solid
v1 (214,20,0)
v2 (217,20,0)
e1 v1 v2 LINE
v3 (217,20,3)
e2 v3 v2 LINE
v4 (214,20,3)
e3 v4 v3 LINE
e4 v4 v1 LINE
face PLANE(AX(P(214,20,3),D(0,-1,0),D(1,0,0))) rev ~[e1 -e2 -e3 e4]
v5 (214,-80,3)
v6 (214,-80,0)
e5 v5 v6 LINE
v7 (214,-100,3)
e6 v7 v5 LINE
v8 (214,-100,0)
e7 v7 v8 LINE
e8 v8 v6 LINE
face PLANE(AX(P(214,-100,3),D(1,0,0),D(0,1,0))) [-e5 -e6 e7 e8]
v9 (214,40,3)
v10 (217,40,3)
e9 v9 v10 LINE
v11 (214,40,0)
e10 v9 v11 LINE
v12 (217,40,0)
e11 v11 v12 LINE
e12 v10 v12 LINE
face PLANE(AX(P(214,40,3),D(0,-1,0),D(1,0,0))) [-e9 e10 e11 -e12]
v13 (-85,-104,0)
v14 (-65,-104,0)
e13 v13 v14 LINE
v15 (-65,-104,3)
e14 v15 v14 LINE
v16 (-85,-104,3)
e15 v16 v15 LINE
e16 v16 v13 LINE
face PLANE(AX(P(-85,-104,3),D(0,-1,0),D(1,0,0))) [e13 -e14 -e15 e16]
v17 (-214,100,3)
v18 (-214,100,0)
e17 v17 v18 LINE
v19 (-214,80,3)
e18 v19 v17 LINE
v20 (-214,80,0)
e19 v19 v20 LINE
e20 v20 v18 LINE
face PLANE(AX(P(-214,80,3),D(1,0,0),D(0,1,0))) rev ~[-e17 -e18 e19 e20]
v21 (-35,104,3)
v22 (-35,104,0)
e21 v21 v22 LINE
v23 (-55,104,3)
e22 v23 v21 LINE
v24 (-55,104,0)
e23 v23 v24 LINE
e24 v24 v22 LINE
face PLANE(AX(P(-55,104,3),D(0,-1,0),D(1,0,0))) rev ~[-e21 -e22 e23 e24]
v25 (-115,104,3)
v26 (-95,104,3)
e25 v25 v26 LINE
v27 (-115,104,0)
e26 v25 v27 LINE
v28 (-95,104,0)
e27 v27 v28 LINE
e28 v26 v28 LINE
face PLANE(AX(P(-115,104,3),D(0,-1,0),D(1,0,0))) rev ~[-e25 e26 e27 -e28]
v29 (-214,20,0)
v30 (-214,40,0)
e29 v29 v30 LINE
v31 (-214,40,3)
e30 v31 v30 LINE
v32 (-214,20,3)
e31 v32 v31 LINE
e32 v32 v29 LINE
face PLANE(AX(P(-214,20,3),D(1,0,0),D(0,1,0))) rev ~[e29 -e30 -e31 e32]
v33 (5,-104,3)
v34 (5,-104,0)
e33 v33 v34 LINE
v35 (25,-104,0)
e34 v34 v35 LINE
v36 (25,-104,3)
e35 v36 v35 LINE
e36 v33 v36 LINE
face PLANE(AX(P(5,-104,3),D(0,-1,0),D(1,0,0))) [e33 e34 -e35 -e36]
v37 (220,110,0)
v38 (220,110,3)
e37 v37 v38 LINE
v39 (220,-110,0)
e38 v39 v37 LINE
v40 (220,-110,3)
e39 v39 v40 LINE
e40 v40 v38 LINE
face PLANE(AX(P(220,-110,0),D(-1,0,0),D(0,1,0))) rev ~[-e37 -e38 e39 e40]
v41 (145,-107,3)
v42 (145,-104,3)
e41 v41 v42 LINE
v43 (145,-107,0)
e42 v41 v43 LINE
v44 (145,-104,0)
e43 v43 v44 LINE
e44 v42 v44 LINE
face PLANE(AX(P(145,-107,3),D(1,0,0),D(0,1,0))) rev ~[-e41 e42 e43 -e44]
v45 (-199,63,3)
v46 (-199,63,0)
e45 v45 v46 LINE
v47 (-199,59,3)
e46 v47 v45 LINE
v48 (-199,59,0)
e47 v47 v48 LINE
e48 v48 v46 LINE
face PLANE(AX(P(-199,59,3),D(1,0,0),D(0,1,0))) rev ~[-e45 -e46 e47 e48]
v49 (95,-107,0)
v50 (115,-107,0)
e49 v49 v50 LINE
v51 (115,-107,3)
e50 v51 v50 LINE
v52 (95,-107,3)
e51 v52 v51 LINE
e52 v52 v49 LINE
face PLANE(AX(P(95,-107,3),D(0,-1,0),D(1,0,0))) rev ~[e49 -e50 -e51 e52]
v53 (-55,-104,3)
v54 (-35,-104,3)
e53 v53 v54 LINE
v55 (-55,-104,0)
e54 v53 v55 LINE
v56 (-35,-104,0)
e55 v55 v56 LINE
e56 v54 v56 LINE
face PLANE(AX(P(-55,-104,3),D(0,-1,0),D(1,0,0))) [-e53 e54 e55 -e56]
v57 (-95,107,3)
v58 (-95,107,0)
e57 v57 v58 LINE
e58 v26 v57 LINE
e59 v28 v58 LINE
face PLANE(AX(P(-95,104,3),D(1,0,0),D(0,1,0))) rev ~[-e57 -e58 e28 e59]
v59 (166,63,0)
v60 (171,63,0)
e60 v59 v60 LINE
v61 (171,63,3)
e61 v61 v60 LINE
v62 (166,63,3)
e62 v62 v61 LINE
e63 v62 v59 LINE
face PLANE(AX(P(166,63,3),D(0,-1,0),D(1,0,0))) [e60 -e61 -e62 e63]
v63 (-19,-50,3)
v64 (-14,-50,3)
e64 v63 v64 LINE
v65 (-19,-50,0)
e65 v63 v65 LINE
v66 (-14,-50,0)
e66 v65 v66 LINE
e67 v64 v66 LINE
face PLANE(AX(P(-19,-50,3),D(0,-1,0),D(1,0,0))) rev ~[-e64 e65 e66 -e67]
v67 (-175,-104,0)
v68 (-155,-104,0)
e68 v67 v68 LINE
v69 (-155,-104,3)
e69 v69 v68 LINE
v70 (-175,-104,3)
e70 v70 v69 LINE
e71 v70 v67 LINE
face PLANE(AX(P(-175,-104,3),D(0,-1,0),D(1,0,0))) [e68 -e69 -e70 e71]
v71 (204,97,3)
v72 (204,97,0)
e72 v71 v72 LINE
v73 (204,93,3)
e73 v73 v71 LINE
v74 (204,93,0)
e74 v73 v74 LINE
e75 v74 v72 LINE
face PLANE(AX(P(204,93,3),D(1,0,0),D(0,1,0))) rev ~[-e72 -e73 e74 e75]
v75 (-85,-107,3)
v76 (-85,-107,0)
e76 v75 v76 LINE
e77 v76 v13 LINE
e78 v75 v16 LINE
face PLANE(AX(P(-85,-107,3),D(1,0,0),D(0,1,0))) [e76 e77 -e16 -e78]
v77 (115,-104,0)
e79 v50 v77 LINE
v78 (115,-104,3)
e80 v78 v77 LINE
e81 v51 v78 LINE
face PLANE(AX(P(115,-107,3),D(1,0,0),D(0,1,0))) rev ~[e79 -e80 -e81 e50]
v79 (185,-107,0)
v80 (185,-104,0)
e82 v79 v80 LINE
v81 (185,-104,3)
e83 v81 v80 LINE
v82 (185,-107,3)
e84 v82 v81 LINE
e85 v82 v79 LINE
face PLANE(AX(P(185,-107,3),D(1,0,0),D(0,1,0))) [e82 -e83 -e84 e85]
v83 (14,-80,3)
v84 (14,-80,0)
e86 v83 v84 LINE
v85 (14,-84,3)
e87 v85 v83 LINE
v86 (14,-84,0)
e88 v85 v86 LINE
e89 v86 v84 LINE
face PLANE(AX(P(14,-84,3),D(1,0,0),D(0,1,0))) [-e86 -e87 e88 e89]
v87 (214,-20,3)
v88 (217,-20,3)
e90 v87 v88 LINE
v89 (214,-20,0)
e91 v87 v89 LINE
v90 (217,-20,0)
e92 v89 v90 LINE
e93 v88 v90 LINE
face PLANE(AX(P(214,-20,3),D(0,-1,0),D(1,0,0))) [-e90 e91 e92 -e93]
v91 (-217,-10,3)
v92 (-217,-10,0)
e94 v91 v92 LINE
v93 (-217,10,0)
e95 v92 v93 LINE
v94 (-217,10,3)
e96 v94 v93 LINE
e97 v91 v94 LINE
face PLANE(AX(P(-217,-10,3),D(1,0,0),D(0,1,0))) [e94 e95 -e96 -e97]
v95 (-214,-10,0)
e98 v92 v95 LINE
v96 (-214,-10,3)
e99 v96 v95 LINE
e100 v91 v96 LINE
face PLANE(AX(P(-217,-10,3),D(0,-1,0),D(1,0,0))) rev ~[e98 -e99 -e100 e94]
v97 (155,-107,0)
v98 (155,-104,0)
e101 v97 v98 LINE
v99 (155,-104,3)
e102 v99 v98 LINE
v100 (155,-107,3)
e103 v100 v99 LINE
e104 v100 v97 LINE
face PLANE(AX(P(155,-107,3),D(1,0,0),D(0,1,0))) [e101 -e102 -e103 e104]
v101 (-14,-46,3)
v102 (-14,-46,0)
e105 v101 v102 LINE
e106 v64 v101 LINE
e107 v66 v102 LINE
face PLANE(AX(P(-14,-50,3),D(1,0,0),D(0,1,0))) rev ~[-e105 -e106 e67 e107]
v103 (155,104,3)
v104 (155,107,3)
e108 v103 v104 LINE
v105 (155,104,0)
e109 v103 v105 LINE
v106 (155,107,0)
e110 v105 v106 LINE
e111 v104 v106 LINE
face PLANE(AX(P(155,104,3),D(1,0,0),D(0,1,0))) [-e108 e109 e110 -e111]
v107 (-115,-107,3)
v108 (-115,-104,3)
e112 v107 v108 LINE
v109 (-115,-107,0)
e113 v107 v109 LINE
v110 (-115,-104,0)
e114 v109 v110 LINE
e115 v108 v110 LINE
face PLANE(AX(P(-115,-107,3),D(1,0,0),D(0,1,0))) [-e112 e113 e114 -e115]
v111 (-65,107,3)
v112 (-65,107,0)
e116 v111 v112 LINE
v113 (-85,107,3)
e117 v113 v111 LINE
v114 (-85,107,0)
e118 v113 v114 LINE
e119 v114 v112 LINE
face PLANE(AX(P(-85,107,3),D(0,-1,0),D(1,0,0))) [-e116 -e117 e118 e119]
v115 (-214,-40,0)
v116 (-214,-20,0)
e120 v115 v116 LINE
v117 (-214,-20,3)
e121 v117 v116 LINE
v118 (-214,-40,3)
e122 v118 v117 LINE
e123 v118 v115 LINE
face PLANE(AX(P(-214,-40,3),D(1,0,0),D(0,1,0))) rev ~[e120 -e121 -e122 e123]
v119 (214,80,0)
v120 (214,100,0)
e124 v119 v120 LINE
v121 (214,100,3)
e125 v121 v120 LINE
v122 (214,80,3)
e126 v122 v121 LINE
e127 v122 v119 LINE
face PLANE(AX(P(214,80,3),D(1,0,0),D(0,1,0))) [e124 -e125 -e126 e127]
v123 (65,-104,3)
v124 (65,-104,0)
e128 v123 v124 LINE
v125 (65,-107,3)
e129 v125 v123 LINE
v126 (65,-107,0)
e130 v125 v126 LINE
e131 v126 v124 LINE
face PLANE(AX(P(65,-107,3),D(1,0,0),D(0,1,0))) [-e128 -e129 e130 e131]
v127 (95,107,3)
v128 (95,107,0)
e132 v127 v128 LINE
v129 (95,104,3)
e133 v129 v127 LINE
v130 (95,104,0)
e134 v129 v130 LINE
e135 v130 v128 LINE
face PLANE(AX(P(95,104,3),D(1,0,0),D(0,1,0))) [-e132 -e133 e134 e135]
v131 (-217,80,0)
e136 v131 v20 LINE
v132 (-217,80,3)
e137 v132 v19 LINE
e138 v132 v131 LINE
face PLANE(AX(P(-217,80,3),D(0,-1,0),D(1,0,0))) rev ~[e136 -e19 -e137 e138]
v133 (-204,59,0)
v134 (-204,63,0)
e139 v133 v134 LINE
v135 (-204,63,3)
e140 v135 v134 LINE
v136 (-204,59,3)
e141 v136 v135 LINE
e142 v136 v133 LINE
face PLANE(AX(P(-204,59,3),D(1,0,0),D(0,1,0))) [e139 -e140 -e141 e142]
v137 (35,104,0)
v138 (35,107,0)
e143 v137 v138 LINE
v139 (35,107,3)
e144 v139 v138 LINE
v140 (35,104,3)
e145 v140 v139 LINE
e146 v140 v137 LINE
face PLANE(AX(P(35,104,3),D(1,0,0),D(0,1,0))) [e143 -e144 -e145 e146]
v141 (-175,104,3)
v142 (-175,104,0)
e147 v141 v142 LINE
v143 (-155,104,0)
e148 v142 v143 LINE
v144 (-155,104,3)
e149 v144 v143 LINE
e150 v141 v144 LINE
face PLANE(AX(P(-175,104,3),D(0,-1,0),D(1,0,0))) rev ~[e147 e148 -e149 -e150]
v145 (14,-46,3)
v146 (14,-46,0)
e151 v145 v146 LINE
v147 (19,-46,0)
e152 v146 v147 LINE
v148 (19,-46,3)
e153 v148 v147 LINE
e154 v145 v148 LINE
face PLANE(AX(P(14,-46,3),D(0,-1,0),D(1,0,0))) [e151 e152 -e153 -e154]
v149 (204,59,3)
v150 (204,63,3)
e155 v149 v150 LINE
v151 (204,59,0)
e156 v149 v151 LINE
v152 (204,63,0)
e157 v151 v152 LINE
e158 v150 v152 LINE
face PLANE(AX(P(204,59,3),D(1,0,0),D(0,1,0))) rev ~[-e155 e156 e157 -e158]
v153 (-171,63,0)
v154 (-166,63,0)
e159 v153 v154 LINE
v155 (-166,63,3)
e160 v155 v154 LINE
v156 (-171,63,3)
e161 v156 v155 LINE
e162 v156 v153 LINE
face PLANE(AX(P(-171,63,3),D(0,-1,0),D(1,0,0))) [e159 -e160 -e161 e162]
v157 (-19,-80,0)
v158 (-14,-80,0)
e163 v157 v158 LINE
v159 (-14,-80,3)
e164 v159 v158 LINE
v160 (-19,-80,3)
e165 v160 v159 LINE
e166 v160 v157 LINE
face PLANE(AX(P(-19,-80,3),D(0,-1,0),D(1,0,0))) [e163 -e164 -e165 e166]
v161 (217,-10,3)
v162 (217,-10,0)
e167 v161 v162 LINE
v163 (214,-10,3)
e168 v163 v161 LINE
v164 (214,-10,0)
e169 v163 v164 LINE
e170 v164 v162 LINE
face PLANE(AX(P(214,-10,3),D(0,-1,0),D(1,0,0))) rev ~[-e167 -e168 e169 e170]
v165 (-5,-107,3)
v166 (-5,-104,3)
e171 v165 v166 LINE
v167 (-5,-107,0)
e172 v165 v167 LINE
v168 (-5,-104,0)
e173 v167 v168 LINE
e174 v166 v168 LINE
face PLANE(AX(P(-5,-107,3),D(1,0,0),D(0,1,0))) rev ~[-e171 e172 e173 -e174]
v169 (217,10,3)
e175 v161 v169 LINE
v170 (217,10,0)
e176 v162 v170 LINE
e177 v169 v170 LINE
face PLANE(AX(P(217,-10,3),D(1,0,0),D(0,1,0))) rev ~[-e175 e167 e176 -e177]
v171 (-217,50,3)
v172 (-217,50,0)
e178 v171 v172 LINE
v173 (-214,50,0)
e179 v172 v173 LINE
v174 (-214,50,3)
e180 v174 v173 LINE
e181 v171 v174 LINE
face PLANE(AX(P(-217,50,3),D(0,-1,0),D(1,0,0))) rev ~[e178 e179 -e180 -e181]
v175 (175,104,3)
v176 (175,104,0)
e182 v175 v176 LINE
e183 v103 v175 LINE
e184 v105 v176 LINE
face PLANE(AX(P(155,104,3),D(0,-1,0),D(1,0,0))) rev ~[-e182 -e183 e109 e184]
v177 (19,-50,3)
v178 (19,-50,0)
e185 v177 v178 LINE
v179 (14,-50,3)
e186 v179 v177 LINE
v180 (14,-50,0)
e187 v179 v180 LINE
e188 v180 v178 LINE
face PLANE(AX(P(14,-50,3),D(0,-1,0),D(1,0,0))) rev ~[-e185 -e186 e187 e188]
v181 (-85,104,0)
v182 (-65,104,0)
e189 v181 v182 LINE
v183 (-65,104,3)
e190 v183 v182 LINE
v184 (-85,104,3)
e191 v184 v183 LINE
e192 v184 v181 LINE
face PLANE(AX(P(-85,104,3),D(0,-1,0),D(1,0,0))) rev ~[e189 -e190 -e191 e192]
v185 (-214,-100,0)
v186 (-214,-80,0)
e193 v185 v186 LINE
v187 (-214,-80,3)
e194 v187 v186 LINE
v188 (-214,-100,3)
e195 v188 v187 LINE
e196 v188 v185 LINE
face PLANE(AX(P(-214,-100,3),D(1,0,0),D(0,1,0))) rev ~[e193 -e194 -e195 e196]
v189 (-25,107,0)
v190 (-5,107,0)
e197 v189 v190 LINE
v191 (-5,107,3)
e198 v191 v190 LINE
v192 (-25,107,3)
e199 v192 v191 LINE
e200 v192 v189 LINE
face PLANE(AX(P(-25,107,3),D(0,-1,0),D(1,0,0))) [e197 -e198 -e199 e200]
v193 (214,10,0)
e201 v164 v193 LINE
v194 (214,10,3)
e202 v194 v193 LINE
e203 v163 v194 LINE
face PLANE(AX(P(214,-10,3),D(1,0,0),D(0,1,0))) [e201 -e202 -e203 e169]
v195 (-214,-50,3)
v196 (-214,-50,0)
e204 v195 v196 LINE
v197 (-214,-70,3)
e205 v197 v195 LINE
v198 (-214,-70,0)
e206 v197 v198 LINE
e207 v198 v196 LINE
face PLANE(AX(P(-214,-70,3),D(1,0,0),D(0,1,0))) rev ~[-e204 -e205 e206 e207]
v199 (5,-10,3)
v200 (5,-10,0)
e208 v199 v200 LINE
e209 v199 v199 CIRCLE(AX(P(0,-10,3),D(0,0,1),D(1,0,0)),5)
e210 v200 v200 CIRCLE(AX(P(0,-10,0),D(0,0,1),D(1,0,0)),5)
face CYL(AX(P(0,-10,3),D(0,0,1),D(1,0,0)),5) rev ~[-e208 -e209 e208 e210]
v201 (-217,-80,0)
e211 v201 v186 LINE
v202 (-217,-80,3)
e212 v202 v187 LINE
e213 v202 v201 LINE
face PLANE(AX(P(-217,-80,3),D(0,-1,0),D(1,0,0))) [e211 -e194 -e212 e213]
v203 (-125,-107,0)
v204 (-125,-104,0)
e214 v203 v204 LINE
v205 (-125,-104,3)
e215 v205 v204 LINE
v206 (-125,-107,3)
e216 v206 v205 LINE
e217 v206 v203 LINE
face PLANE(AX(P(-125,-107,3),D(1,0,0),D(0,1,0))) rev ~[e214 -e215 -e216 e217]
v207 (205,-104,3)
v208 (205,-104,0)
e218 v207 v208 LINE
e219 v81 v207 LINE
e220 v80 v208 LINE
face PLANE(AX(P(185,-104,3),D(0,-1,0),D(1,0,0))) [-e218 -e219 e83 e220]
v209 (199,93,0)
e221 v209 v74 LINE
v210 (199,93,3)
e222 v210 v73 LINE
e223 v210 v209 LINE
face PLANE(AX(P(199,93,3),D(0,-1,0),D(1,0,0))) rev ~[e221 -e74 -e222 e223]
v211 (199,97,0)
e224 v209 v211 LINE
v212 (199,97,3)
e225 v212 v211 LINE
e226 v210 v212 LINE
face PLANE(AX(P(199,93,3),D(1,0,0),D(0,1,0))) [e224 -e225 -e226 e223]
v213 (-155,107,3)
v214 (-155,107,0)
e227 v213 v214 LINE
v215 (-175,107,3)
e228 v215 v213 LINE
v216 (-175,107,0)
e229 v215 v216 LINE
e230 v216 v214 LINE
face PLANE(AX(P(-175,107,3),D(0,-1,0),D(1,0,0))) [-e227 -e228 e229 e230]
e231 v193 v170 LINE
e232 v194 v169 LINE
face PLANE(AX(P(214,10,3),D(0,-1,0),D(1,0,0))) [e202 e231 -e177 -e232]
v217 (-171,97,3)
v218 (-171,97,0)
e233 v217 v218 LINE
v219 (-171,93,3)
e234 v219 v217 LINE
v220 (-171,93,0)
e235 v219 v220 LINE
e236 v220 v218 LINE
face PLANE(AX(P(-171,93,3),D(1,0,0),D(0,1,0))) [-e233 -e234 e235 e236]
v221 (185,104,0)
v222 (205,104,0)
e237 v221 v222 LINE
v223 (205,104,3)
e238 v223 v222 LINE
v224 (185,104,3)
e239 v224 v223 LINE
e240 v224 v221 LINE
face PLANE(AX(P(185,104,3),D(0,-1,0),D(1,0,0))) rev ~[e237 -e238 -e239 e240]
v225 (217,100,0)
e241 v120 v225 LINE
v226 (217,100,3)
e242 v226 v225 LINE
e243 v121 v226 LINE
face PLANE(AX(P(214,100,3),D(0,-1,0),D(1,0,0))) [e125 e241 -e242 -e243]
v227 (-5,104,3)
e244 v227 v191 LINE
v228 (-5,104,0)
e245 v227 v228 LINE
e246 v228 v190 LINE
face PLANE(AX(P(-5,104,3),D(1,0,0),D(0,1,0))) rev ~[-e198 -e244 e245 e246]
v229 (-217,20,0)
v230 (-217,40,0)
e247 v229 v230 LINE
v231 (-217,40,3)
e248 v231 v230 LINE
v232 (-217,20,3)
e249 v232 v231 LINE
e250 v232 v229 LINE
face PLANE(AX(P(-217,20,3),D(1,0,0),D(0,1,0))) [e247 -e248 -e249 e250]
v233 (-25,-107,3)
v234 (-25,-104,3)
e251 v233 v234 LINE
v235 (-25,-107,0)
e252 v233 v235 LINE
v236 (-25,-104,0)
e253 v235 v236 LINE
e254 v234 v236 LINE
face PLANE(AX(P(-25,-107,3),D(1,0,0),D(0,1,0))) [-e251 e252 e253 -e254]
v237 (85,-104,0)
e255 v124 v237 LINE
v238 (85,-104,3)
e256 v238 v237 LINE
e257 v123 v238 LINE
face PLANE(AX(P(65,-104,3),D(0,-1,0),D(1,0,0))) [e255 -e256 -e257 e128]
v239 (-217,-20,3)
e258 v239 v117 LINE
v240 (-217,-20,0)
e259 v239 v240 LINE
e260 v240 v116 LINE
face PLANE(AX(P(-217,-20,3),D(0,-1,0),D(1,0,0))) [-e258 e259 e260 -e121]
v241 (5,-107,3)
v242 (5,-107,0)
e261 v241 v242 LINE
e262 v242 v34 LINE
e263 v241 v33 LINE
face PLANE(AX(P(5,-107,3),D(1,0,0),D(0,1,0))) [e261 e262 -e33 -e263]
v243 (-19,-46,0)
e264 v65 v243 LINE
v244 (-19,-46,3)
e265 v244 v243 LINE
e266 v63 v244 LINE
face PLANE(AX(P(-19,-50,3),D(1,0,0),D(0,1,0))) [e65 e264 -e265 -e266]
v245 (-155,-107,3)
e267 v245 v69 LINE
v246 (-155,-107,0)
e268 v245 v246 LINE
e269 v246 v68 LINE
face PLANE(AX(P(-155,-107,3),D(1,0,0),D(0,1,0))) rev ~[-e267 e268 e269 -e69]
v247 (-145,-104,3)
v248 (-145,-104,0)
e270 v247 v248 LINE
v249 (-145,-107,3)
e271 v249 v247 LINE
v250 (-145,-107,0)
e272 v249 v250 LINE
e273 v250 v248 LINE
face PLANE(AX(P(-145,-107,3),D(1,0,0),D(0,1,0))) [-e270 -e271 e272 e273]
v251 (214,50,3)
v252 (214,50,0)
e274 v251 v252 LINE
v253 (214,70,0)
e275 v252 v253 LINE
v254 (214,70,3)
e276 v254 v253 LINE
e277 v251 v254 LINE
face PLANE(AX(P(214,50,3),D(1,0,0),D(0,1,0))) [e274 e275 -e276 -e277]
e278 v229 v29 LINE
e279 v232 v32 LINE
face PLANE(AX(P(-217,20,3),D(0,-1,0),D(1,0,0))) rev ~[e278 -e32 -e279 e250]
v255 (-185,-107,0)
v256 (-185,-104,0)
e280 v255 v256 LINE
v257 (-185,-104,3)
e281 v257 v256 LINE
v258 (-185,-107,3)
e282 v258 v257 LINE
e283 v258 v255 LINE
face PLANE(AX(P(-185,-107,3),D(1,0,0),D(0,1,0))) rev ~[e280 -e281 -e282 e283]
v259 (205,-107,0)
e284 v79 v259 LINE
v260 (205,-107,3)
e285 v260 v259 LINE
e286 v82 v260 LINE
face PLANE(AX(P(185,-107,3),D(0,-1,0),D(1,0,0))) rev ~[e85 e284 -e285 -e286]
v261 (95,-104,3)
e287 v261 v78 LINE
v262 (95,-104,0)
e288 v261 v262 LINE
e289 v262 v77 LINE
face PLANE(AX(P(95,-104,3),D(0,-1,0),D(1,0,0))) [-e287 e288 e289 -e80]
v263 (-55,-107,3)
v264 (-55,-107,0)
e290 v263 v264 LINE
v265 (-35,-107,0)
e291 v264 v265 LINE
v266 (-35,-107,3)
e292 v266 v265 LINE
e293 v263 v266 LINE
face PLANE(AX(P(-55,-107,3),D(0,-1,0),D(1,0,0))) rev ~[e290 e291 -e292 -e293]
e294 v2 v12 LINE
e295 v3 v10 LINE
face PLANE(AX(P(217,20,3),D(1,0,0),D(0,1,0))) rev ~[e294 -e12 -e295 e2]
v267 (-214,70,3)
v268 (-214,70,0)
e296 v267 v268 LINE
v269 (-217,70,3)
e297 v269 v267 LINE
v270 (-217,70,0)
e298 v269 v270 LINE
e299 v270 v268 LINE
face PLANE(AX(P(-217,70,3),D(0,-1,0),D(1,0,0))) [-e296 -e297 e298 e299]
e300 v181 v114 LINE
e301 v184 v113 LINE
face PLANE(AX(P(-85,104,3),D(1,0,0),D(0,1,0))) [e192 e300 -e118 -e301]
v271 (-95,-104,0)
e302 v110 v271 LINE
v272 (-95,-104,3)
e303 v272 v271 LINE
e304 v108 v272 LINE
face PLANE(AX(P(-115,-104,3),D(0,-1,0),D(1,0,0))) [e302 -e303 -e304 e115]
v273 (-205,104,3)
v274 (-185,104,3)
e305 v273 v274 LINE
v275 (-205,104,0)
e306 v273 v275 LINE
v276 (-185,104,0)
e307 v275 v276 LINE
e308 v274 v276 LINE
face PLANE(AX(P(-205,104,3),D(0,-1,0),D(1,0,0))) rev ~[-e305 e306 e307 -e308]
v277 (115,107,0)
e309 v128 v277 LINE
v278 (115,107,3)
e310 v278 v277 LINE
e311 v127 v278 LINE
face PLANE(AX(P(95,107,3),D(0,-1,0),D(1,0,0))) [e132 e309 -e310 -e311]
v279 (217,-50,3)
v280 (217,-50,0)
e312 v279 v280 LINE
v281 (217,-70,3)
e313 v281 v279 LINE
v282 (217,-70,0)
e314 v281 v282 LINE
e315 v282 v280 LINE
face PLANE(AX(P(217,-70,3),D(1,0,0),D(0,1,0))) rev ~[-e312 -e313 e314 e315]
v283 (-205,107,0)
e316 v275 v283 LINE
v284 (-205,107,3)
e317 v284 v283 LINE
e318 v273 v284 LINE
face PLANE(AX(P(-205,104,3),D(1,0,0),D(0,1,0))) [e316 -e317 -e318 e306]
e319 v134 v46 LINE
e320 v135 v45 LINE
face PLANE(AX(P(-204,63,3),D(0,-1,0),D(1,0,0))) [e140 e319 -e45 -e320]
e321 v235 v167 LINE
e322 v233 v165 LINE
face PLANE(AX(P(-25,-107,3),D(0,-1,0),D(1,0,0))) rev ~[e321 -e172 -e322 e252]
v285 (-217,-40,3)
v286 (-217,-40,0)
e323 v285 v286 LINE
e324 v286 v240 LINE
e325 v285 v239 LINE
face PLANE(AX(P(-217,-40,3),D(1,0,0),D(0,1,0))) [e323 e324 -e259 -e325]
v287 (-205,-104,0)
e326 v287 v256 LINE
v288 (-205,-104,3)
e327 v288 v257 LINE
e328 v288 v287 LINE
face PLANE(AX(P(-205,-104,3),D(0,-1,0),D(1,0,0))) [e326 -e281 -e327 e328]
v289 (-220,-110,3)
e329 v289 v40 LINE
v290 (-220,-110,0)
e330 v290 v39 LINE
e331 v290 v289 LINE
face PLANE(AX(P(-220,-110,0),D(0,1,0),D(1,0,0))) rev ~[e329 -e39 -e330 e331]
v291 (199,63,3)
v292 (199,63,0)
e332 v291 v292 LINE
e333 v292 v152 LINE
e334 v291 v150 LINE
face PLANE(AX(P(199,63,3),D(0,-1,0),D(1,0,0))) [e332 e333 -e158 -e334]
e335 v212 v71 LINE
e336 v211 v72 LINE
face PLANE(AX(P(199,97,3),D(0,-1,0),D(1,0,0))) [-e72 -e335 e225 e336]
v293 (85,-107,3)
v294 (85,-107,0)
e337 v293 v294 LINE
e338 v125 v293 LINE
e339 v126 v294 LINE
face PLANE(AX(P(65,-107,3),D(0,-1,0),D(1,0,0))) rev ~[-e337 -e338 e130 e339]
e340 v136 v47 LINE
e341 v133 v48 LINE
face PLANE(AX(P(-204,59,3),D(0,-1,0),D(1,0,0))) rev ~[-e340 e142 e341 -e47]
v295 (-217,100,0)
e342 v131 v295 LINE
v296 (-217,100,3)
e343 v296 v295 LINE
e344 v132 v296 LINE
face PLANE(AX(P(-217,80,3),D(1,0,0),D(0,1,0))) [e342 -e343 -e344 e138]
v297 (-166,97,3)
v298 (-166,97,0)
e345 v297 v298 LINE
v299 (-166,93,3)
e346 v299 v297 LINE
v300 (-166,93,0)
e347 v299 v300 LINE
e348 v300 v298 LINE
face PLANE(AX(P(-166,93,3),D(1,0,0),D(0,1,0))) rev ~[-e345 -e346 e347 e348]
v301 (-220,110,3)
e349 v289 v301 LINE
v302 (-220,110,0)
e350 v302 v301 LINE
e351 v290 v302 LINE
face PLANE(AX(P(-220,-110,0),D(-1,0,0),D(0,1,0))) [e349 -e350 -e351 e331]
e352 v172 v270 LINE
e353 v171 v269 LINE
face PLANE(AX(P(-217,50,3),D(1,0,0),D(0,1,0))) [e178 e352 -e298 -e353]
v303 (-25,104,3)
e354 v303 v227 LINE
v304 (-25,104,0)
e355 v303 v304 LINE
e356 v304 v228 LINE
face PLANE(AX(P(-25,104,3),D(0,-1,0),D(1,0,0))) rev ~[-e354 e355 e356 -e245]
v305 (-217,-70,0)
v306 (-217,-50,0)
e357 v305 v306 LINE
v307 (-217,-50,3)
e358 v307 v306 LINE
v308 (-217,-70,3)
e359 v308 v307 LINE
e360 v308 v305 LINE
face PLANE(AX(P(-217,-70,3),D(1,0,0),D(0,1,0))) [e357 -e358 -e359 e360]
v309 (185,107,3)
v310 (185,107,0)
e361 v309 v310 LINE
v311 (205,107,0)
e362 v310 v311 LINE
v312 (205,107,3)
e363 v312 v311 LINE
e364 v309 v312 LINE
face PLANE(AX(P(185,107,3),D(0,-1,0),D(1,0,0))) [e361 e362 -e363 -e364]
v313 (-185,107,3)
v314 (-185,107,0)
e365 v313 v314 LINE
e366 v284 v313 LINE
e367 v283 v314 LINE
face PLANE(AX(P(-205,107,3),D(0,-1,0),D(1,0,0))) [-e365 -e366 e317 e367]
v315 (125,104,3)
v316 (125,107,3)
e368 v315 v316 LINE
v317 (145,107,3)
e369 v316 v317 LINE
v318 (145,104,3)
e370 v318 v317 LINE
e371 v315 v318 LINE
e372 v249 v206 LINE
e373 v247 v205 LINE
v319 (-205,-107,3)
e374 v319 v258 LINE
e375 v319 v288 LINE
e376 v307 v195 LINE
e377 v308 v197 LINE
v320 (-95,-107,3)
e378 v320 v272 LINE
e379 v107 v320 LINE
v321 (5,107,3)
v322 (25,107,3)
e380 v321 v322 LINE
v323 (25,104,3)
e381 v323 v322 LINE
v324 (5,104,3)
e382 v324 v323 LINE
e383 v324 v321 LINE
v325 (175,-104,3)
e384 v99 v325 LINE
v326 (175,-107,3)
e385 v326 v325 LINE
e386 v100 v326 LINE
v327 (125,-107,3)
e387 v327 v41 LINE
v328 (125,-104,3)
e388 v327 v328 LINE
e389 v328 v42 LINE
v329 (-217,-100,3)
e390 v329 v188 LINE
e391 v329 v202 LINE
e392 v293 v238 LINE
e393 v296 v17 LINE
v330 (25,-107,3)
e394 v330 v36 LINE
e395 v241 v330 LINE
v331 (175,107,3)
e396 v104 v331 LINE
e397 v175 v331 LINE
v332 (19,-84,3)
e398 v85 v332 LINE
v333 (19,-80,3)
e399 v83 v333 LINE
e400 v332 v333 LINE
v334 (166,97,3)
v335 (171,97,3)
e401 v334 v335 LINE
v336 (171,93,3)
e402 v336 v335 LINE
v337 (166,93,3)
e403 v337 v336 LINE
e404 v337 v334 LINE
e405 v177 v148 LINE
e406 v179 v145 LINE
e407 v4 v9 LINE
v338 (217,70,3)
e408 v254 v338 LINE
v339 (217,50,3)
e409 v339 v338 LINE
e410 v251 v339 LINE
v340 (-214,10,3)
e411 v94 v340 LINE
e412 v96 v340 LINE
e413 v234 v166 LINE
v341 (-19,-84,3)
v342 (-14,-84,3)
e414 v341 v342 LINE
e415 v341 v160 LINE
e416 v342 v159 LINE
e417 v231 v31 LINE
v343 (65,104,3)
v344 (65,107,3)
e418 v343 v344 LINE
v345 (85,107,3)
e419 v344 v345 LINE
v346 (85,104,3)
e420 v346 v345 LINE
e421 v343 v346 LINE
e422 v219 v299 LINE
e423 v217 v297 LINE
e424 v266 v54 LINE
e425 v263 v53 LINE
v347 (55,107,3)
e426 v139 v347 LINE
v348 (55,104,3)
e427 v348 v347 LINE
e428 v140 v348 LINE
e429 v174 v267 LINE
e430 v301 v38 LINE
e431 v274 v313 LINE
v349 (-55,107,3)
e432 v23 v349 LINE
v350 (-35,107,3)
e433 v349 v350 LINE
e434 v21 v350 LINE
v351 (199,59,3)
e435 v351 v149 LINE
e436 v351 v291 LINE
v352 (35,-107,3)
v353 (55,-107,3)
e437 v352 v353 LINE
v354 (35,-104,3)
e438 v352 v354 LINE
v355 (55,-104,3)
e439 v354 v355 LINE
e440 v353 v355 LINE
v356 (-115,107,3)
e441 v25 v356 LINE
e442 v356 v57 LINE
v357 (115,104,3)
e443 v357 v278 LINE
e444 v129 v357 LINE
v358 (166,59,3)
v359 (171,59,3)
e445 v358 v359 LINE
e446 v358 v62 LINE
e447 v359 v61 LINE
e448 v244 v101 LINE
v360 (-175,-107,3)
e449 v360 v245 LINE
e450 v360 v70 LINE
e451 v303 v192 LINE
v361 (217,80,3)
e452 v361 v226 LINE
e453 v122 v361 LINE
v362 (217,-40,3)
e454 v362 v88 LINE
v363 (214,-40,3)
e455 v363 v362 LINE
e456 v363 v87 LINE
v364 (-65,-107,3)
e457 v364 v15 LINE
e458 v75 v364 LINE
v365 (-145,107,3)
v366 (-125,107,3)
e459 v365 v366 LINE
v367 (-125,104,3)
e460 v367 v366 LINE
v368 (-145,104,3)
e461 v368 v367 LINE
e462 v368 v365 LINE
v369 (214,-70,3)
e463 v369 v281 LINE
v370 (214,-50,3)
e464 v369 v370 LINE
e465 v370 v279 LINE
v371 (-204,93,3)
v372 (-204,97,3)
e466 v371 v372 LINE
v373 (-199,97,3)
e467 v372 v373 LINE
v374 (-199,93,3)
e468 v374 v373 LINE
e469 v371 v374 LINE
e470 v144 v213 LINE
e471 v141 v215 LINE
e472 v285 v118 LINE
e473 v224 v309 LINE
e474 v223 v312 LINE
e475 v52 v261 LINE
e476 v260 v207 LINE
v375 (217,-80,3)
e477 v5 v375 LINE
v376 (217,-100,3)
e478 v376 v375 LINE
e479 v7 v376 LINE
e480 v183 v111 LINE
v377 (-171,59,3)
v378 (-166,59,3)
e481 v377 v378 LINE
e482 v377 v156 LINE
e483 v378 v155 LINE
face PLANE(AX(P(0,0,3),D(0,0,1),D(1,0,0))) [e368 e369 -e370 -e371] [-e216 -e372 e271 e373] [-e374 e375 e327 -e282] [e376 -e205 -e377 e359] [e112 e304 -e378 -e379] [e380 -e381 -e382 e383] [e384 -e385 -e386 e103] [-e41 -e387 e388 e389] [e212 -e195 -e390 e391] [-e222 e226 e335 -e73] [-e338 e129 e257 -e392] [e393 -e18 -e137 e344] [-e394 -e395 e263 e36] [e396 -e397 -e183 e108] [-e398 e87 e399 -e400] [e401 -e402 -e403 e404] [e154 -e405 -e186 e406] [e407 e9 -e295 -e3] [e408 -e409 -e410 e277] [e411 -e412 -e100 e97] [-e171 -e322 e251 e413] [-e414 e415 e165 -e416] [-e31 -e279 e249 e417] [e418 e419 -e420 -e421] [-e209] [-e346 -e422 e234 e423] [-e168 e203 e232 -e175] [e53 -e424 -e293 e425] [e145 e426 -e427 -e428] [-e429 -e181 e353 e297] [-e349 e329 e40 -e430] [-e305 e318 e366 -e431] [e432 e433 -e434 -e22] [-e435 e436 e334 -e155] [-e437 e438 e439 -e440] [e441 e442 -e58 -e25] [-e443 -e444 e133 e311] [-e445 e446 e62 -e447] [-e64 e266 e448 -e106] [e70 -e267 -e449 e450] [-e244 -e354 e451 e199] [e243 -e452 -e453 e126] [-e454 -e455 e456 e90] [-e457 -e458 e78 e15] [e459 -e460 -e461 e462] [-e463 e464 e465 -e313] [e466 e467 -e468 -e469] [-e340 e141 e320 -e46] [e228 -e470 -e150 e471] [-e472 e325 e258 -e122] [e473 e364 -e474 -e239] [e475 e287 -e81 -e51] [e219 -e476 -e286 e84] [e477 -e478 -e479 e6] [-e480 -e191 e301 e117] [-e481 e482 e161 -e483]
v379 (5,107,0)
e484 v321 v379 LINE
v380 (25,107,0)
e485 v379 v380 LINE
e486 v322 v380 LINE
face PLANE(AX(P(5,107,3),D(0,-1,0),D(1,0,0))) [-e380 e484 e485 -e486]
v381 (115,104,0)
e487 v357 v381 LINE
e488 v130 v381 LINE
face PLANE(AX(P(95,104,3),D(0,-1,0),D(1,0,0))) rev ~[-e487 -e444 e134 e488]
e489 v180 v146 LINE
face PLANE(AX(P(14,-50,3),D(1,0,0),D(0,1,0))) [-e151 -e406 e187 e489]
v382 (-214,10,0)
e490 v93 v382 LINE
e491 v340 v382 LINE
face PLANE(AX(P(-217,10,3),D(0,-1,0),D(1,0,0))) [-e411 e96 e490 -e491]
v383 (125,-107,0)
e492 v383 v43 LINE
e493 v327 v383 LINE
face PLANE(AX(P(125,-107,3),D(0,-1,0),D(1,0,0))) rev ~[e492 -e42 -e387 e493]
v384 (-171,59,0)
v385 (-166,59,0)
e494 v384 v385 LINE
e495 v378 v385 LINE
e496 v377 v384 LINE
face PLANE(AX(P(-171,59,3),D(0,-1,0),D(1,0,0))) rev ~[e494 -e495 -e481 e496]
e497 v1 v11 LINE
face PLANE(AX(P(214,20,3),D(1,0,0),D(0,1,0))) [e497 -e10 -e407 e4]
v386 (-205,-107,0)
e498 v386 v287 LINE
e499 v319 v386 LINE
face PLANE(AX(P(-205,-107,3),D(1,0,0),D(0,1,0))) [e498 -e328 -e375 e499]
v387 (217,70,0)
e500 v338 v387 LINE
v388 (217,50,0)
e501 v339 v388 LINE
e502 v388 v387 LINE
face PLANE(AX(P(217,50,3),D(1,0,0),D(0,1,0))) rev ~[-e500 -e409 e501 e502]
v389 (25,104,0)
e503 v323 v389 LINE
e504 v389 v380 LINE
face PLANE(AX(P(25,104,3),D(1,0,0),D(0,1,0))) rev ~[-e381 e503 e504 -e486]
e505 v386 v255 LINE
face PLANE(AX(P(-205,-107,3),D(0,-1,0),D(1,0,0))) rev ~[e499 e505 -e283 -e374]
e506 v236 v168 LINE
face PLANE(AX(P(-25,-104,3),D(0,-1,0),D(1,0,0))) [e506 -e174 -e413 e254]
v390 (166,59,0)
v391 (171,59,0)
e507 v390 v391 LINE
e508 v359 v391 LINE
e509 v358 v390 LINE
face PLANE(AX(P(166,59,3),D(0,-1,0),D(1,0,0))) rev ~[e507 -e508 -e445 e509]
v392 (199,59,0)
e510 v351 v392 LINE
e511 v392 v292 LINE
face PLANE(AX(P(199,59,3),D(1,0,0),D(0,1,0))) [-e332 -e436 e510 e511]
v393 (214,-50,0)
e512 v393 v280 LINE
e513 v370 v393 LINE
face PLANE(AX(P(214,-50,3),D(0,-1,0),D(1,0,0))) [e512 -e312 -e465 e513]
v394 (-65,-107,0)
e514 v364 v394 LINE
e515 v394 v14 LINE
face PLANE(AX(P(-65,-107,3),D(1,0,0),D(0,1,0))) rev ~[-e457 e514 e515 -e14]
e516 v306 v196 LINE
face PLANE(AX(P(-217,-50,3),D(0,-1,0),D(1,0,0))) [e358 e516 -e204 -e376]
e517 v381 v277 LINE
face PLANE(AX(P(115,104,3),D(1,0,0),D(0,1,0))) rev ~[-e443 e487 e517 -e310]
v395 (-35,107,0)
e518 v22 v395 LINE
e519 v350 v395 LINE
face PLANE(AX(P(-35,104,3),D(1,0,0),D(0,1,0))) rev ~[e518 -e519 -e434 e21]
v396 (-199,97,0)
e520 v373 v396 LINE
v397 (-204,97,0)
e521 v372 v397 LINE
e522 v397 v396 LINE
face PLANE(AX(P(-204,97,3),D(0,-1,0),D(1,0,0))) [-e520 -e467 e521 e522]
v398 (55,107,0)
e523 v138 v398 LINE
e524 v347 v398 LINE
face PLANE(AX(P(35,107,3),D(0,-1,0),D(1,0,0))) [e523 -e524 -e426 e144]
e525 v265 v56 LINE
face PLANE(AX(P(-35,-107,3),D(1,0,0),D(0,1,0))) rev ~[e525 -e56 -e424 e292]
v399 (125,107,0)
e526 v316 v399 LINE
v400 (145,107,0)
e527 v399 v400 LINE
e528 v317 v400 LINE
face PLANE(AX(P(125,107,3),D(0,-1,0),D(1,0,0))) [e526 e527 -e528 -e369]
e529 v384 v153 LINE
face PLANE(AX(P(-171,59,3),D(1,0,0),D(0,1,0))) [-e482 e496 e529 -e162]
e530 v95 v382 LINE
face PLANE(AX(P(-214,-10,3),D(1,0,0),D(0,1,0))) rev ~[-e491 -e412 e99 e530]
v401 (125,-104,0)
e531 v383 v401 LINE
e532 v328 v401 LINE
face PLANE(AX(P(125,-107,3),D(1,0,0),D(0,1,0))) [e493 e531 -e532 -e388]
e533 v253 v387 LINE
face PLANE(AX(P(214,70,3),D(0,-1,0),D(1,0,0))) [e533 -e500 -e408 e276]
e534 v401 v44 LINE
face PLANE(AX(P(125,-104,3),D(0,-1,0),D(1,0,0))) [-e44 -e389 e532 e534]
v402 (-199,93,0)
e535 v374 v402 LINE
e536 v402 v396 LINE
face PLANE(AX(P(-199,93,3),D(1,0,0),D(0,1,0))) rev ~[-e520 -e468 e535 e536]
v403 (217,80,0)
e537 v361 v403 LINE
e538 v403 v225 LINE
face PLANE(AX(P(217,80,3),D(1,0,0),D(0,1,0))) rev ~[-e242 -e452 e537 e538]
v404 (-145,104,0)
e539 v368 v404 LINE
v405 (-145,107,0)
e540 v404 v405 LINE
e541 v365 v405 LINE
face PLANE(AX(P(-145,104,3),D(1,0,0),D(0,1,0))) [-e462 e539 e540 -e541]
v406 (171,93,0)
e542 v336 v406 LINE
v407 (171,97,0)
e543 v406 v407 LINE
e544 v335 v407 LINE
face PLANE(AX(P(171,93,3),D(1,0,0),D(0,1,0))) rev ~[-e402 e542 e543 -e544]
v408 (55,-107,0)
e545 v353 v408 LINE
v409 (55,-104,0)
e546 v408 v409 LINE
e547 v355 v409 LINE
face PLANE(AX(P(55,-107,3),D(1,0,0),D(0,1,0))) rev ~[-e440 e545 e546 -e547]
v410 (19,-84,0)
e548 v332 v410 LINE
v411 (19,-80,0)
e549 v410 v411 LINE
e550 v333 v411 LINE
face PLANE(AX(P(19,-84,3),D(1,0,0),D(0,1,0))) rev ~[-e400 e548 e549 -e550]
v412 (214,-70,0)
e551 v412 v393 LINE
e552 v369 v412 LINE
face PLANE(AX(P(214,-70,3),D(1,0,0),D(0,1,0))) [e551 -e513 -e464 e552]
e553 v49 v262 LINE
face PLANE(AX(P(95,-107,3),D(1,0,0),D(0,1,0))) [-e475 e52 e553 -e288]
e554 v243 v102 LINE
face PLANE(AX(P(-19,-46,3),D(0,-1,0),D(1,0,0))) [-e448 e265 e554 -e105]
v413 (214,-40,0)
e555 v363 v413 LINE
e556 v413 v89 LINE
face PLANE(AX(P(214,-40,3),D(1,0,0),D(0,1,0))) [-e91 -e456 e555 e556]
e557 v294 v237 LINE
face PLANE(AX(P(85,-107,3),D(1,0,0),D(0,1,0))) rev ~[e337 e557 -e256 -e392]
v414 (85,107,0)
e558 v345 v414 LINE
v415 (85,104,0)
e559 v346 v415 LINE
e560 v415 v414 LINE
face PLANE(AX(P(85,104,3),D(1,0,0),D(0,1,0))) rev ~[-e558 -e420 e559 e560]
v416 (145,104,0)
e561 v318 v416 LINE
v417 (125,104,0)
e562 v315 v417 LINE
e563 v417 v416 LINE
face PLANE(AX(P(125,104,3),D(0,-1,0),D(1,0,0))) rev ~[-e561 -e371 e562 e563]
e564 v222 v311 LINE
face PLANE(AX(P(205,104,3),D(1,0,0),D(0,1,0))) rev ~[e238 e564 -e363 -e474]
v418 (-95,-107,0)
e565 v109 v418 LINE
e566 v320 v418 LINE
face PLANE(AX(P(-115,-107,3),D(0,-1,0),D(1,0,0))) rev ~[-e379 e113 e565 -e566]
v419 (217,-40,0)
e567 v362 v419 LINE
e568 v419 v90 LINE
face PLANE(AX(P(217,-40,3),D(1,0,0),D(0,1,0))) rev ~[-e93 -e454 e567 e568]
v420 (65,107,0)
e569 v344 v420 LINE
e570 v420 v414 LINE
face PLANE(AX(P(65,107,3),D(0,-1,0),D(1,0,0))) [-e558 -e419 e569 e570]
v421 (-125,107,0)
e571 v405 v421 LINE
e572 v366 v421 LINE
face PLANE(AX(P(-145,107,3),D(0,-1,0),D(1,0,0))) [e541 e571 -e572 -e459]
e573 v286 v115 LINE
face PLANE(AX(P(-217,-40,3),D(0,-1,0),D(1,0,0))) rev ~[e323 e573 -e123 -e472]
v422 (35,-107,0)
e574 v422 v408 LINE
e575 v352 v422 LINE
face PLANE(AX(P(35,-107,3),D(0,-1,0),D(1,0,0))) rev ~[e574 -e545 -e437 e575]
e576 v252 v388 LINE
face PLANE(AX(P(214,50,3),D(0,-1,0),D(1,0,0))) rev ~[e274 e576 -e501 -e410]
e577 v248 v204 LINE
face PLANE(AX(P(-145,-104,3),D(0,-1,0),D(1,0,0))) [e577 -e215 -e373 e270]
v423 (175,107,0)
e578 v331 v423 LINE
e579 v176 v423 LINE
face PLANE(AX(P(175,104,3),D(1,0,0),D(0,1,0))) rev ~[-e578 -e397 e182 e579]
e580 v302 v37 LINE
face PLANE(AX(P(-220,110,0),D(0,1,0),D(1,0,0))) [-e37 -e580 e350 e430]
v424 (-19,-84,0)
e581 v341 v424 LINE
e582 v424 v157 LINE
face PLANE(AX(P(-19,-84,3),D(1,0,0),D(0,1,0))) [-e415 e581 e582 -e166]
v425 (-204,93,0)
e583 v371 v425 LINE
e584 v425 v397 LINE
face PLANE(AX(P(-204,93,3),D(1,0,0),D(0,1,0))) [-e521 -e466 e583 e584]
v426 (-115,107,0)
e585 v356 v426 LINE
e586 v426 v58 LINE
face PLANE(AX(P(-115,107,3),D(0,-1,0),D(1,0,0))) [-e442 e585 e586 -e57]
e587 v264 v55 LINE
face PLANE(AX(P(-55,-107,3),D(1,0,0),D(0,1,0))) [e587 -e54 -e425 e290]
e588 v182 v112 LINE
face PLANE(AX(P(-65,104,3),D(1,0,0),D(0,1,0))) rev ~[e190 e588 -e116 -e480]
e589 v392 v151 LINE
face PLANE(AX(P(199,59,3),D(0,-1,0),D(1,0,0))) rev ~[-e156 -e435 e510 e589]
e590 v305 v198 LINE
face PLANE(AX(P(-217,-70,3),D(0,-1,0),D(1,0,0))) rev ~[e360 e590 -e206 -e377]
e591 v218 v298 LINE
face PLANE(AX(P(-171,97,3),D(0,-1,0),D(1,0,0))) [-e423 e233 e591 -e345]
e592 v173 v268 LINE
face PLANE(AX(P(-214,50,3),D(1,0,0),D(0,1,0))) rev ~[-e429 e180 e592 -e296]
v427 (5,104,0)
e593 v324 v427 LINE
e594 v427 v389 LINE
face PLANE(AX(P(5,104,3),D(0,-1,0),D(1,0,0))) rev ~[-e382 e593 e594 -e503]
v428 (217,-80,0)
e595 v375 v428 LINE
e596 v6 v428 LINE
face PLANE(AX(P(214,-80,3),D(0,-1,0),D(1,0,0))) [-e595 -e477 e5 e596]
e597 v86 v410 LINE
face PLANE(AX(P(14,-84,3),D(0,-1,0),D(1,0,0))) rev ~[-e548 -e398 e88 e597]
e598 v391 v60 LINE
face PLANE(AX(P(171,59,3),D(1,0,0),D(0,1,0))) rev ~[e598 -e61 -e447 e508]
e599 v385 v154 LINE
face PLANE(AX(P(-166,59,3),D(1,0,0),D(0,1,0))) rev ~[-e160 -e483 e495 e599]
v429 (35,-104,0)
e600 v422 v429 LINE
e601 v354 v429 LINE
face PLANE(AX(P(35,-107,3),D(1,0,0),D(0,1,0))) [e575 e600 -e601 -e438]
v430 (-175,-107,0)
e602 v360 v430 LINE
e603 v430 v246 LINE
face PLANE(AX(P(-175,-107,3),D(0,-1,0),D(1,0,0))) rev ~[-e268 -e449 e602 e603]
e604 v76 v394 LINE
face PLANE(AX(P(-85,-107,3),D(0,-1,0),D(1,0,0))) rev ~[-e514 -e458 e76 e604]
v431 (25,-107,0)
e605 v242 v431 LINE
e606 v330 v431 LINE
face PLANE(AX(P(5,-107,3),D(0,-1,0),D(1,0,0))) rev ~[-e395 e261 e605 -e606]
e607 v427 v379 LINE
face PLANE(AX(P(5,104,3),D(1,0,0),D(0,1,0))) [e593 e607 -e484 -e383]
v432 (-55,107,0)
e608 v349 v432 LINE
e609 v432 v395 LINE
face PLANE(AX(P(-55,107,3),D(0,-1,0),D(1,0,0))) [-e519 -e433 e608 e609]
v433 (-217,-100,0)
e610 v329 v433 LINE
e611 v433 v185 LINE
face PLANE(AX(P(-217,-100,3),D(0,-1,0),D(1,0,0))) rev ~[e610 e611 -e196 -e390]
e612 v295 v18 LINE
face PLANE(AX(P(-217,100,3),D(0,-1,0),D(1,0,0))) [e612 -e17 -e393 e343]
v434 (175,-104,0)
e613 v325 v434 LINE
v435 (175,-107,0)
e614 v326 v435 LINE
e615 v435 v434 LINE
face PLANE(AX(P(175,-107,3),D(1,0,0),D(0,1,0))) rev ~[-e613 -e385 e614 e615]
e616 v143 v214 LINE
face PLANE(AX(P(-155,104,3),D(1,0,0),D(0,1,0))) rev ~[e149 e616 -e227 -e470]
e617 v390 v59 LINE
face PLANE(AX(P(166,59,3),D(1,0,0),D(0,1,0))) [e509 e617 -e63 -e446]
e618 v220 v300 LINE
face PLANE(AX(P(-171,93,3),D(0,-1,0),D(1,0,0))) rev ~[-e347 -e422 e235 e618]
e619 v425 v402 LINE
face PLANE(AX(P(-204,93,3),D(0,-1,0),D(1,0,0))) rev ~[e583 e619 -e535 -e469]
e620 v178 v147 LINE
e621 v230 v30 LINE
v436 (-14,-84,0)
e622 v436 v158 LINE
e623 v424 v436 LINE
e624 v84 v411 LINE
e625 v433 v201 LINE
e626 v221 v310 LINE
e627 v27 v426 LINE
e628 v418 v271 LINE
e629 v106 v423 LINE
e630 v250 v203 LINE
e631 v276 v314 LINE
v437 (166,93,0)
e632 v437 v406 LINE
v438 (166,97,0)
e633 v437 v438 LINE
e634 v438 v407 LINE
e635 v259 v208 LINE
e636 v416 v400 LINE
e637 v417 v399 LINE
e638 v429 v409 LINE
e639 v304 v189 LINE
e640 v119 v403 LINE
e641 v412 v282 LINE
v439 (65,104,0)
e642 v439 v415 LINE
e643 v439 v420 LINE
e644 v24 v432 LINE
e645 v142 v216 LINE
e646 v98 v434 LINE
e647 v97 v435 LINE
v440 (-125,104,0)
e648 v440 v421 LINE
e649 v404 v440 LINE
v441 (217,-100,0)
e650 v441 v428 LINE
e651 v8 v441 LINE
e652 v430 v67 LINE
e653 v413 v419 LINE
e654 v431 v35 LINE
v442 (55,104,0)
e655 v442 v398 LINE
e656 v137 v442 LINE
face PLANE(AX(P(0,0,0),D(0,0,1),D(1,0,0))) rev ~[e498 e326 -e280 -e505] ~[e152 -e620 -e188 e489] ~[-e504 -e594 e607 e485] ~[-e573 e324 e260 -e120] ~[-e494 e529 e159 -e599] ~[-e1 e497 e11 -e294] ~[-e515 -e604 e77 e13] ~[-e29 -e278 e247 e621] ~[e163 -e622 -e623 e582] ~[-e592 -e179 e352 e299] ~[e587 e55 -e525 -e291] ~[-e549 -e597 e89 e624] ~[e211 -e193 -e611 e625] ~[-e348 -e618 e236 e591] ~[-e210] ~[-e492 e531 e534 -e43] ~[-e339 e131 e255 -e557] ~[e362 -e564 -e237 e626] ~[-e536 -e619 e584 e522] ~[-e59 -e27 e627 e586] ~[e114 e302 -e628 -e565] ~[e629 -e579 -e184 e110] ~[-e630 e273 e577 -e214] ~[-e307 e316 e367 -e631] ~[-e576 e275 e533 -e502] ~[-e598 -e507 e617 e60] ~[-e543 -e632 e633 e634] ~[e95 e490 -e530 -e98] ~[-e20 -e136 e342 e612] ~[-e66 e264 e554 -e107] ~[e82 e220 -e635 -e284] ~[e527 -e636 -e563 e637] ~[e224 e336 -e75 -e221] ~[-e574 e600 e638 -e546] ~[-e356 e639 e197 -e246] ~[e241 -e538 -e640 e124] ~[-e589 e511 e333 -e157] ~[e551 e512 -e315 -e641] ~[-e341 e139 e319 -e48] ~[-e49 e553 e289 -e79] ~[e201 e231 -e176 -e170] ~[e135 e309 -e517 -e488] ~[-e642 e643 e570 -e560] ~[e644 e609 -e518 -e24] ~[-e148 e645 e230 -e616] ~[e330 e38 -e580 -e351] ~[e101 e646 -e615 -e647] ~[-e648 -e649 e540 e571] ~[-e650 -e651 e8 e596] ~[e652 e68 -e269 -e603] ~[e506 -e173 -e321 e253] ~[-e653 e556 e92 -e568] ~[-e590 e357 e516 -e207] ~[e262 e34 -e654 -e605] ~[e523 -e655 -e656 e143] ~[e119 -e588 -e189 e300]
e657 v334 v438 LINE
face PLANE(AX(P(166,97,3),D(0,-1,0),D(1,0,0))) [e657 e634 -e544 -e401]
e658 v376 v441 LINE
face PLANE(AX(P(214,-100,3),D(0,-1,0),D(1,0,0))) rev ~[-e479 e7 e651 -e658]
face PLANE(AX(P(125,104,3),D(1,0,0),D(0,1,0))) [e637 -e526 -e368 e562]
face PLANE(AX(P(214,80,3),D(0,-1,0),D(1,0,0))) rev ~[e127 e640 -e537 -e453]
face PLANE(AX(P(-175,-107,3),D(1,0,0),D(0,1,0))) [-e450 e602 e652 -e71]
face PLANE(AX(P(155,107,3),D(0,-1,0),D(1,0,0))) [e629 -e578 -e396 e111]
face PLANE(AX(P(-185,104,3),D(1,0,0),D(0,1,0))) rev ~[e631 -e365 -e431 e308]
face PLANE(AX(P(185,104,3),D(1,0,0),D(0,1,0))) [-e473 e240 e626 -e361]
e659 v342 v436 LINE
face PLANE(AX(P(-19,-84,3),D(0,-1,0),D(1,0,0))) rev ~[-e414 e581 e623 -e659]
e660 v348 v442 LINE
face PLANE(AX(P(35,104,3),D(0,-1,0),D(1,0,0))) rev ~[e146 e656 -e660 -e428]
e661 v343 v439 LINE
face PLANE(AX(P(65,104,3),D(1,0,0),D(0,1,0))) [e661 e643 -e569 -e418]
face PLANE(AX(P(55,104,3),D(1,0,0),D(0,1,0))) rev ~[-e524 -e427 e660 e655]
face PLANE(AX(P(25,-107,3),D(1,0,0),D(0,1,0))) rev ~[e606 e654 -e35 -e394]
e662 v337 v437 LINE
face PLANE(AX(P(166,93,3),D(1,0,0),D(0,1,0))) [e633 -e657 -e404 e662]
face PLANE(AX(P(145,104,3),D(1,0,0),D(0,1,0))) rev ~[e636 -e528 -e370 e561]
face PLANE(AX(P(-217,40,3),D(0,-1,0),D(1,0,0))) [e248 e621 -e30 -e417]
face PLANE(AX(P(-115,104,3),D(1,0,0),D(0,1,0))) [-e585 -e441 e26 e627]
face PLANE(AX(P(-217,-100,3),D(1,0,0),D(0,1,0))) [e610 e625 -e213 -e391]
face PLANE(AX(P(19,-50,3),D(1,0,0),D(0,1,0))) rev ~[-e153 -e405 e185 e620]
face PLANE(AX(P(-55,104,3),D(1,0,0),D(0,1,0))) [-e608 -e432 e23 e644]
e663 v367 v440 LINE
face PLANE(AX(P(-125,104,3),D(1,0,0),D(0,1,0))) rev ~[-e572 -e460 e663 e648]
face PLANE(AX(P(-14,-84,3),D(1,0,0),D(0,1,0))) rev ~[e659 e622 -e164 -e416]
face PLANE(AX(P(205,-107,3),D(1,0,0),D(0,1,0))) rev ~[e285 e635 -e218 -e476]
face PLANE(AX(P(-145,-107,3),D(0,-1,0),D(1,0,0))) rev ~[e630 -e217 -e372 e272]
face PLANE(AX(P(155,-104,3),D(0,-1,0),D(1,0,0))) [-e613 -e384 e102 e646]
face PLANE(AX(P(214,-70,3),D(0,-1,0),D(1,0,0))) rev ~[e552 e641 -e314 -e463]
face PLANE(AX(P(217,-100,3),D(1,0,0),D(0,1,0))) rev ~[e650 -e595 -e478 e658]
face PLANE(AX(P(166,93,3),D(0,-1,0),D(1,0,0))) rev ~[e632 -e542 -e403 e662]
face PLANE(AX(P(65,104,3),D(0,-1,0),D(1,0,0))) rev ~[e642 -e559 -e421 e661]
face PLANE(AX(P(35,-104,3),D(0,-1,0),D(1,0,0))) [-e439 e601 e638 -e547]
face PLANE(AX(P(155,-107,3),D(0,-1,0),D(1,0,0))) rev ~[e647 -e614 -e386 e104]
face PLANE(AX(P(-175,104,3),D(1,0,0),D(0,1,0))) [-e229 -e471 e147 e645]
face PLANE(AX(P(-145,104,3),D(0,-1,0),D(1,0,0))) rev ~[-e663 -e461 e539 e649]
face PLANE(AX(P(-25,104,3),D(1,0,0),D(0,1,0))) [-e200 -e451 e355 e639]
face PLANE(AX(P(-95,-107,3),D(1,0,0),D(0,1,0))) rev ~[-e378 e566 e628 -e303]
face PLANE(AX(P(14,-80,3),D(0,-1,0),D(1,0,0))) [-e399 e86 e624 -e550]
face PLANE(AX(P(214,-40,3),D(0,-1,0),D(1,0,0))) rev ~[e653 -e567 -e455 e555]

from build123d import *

# Parameters (mm, degrees)
ESQUISSE1_W             = 440
ESQUISSE1_H             = 220
BOSS_EXTRU_1_DEPTH      = 3
ESQUISSE2_R             = 5
ENL_V_MAT_EXTRU_1_DEPTH = 3
ESQUISSE3_W             = 5
ESQUISSE3_H             = 4
ENL_V_MAT_EXTRU_2_DEPTH = 3
ESQUISSE4_W             = 20
ESQUISSE4_H             = 3
ENL_V_MAT_EXTRU_3_DEPTH = 3
ESQUISSE5_W             = 3
ESQUISSE5_H             = 20
ENL_V_MAT_EXTRU_4_DEPTH = 3


with BuildPart() as part:
    # Esquisse1 → Boss.-Extru.1 (new body)
    with BuildSketch(Plane.XY):
        Rectangle(ESQUISSE1_W, ESQUISSE1_H)
    extrude(amount=BOSS_EXTRU_1_DEPTH)

    # Esquisse2 → Enlèv. mat.-Extru.1 (cut)
    with BuildSketch(Plane.XY.offset(3)):
        with Locations((0, -10)):
            Circle(ESQUISSE2_R)
    extrude(amount=-ENL_V_MAT_EXTRU_1_DEPTH, mode=Mode.SUBTRACT)

    # Esquisse3 → Enlèv. mat.-Extru.2 (cut)
    with BuildSketch(Plane.XY.offset(3)):
        with Locations((-201.5, 95)):
            Rectangle(ESQUISSE3_W, ESQUISSE3_H)
        with Locations((-168.5, 95)):
            Rectangle(ESQUISSE3_W, ESQUISSE3_H)
        with Locations((-168.5, 61)):
            Rectangle(ESQUISSE3_W, ESQUISSE3_H)
        with Locations((-201.5, 61)):
            Rectangle(ESQUISSE3_W, ESQUISSE3_H)
        with Locations((168.5, 61)):
            Rectangle(ESQUISSE3_W, ESQUISSE3_H)
        with Locations((201.5, 61)):
            Rectangle(ESQUISSE3_W, ESQUISSE3_H)
        with Locations((168.5, 95)):
            Rectangle(ESQUISSE3_W, ESQUISSE3_H)
        with Locations((201.5, 95)):
            Rectangle(ESQUISSE3_W, ESQUISSE3_H)
        with Locations((-16.5, -48)):
            Rectangle(ESQUISSE3_W, ESQUISSE3_H)
        with Locations((16.5, -48)):
            Rectangle(ESQUISSE3_W, ESQUISSE3_H)
        with Locations((16.5, -82)):
            Rectangle(ESQUISSE3_W, ESQUISSE3_H)
        with Locations((-16.5, -82)):
            Rectangle(ESQUISSE3_W, ESQUISSE3_H)
    extrude(amount=-ENL_V_MAT_EXTRU_2_DEPTH, mode=Mode.SUBTRACT)

    # Esquisse4 → Enlèv. mat.-Extru.3 (cut)
    with BuildSketch(Plane.XY.offset(3)):
        with Locations((-195, 105.5)):
            Rectangle(ESQUISSE4_W, ESQUISSE4_H)
        with Locations((-165, 105.5)):
            Rectangle(ESQUISSE4_W, ESQUISSE4_H)
        with Locations((-135, 105.5)):
            Rectangle(ESQUISSE4_W, ESQUISSE4_H)
        with Locations((-105, 105.5)):
            Rectangle(ESQUISSE4_W, ESQUISSE4_H)
        with Locations((-75, 105.5)):
            Rectangle(ESQUISSE4_W, ESQUISSE4_H)
        with Locations((-45, 105.5)):
            Rectangle(ESQUISSE4_W, ESQUISSE4_H)
        with Locations((-15, 105.5)):
            Rectangle(ESQUISSE4_W, ESQUISSE4_H)
        with Locations((15, 105.5)):
            Rectangle(ESQUISSE4_W, ESQUISSE4_H)
        with Locations((45, 105.5)):
            Rectangle(ESQUISSE4_W, ESQUISSE4_H)
        with Locations((75, 105.5)):
            Rectangle(ESQUISSE4_W, ESQUISSE4_H)
        with Locations((105, 105.5)):
            Rectangle(ESQUISSE4_W, ESQUISSE4_H)
        with Locations((135, 105.5)):
            Rectangle(ESQUISSE4_W, ESQUISSE4_H)
        with Locations((165, 105.5)):
            Rectangle(ESQUISSE4_W, ESQUISSE4_H)
        with Locations((195, 105.5)):
            Rectangle(ESQUISSE4_W, ESQUISSE4_H)
        with Locations((195, -105.5)):
            Rectangle(ESQUISSE4_W, ESQUISSE4_H)
        with Locations((165, -105.5)):
            Rectangle(ESQUISSE4_W, ESQUISSE4_H)
        with Locations((135, -105.5)):
            Rectangle(ESQUISSE4_W, ESQUISSE4_H)
        with Locations((105, -105.5)):
            Rectangle(ESQUISSE4_W, ESQUISSE4_H)
        with Locations((75, -105.5)):
            Rectangle(ESQUISSE4_W, ESQUISSE4_H)
        with Locations((45, -105.5)):
            Rectangle(ESQUISSE4_W, ESQUISSE4_H)
        with Locations((15, -105.5)):
            Rectangle(ESQUISSE4_W, ESQUISSE4_H)
        with Locations((-15, -105.5)):
            Rectangle(ESQUISSE4_W, ESQUISSE4_H)
        with Locations((-45, -105.5)):
            Rectangle(ESQUISSE4_W, ESQUISSE4_H)
        with Locations((-75, -105.5)):
            Rectangle(ESQUISSE4_W, ESQUISSE4_H)
        with Locations((-105, -105.5)):
            Rectangle(ESQUISSE4_W, ESQUISSE4_H)
        with Locations((-135, -105.5)):
            Rectangle(ESQUISSE4_W, ESQUISSE4_H)
        with Locations((-165, -105.5)):
            Rectangle(ESQUISSE4_W, ESQUISSE4_H)
        with Locations((-195, -105.5)):
            Rectangle(ESQUISSE4_W, ESQUISSE4_H)
    extrude(amount=-ENL_V_MAT_EXTRU_3_DEPTH, mode=Mode.SUBTRACT)

    # Esquisse5 → Enlèv. mat.-Extru.4 (cut)
    with BuildSketch(Plane.XY.offset(3)):
        with Locations((-215.5, -90)):
            Rectangle(ESQUISSE5_W, ESQUISSE5_H)
        with Locations((-215.5, -60)):
            Rectangle(ESQUISSE5_W, ESQUISSE5_H)
        with Locations((-215.5, -30)):
            Rectangle(ESQUISSE5_W, ESQUISSE5_H)
        with Locations((-215.5, 0)):
            Rectangle(ESQUISSE5_W, ESQUISSE5_H)
        with Locations((-215.5, 30)):
            Rectangle(ESQUISSE5_W, ESQUISSE5_H)
        with Locations((-215.5, 60)):
            Rectangle(ESQUISSE5_W, ESQUISSE5_H)
        with Locations((-215.5, 90)):
            Rectangle(ESQUISSE5_W, ESQUISSE5_H)
        with Locations((215.5, 90)):
            Rectangle(ESQUISSE5_W, ESQUISSE5_H)
        with Locations((215.5, 60)):
            Rectangle(ESQUISSE5_W, ESQUISSE5_H)
        with Locations((215.5, 30)):
            Rectangle(ESQUISSE5_W, ESQUISSE5_H)
        with Locations((215.5, 0)):
            Rectangle(ESQUISSE5_W, ESQUISSE5_H)
        with Locations((215.5, -30)):
            Rectangle(ESQUISSE5_W, ESQUISSE5_H)
        with Locations((215.5, -60)):
            Rectangle(ESQUISSE5_W, ESQUISSE5_H)
        with Locations((215.5, -90)):
            Rectangle(ESQUISSE5_W, ESQUISSE5_H)
    extrude(amount=-ENL_V_MAT_EXTRU_4_DEPTH, mode=Mode.SUBTRACT)


solid = part.part
